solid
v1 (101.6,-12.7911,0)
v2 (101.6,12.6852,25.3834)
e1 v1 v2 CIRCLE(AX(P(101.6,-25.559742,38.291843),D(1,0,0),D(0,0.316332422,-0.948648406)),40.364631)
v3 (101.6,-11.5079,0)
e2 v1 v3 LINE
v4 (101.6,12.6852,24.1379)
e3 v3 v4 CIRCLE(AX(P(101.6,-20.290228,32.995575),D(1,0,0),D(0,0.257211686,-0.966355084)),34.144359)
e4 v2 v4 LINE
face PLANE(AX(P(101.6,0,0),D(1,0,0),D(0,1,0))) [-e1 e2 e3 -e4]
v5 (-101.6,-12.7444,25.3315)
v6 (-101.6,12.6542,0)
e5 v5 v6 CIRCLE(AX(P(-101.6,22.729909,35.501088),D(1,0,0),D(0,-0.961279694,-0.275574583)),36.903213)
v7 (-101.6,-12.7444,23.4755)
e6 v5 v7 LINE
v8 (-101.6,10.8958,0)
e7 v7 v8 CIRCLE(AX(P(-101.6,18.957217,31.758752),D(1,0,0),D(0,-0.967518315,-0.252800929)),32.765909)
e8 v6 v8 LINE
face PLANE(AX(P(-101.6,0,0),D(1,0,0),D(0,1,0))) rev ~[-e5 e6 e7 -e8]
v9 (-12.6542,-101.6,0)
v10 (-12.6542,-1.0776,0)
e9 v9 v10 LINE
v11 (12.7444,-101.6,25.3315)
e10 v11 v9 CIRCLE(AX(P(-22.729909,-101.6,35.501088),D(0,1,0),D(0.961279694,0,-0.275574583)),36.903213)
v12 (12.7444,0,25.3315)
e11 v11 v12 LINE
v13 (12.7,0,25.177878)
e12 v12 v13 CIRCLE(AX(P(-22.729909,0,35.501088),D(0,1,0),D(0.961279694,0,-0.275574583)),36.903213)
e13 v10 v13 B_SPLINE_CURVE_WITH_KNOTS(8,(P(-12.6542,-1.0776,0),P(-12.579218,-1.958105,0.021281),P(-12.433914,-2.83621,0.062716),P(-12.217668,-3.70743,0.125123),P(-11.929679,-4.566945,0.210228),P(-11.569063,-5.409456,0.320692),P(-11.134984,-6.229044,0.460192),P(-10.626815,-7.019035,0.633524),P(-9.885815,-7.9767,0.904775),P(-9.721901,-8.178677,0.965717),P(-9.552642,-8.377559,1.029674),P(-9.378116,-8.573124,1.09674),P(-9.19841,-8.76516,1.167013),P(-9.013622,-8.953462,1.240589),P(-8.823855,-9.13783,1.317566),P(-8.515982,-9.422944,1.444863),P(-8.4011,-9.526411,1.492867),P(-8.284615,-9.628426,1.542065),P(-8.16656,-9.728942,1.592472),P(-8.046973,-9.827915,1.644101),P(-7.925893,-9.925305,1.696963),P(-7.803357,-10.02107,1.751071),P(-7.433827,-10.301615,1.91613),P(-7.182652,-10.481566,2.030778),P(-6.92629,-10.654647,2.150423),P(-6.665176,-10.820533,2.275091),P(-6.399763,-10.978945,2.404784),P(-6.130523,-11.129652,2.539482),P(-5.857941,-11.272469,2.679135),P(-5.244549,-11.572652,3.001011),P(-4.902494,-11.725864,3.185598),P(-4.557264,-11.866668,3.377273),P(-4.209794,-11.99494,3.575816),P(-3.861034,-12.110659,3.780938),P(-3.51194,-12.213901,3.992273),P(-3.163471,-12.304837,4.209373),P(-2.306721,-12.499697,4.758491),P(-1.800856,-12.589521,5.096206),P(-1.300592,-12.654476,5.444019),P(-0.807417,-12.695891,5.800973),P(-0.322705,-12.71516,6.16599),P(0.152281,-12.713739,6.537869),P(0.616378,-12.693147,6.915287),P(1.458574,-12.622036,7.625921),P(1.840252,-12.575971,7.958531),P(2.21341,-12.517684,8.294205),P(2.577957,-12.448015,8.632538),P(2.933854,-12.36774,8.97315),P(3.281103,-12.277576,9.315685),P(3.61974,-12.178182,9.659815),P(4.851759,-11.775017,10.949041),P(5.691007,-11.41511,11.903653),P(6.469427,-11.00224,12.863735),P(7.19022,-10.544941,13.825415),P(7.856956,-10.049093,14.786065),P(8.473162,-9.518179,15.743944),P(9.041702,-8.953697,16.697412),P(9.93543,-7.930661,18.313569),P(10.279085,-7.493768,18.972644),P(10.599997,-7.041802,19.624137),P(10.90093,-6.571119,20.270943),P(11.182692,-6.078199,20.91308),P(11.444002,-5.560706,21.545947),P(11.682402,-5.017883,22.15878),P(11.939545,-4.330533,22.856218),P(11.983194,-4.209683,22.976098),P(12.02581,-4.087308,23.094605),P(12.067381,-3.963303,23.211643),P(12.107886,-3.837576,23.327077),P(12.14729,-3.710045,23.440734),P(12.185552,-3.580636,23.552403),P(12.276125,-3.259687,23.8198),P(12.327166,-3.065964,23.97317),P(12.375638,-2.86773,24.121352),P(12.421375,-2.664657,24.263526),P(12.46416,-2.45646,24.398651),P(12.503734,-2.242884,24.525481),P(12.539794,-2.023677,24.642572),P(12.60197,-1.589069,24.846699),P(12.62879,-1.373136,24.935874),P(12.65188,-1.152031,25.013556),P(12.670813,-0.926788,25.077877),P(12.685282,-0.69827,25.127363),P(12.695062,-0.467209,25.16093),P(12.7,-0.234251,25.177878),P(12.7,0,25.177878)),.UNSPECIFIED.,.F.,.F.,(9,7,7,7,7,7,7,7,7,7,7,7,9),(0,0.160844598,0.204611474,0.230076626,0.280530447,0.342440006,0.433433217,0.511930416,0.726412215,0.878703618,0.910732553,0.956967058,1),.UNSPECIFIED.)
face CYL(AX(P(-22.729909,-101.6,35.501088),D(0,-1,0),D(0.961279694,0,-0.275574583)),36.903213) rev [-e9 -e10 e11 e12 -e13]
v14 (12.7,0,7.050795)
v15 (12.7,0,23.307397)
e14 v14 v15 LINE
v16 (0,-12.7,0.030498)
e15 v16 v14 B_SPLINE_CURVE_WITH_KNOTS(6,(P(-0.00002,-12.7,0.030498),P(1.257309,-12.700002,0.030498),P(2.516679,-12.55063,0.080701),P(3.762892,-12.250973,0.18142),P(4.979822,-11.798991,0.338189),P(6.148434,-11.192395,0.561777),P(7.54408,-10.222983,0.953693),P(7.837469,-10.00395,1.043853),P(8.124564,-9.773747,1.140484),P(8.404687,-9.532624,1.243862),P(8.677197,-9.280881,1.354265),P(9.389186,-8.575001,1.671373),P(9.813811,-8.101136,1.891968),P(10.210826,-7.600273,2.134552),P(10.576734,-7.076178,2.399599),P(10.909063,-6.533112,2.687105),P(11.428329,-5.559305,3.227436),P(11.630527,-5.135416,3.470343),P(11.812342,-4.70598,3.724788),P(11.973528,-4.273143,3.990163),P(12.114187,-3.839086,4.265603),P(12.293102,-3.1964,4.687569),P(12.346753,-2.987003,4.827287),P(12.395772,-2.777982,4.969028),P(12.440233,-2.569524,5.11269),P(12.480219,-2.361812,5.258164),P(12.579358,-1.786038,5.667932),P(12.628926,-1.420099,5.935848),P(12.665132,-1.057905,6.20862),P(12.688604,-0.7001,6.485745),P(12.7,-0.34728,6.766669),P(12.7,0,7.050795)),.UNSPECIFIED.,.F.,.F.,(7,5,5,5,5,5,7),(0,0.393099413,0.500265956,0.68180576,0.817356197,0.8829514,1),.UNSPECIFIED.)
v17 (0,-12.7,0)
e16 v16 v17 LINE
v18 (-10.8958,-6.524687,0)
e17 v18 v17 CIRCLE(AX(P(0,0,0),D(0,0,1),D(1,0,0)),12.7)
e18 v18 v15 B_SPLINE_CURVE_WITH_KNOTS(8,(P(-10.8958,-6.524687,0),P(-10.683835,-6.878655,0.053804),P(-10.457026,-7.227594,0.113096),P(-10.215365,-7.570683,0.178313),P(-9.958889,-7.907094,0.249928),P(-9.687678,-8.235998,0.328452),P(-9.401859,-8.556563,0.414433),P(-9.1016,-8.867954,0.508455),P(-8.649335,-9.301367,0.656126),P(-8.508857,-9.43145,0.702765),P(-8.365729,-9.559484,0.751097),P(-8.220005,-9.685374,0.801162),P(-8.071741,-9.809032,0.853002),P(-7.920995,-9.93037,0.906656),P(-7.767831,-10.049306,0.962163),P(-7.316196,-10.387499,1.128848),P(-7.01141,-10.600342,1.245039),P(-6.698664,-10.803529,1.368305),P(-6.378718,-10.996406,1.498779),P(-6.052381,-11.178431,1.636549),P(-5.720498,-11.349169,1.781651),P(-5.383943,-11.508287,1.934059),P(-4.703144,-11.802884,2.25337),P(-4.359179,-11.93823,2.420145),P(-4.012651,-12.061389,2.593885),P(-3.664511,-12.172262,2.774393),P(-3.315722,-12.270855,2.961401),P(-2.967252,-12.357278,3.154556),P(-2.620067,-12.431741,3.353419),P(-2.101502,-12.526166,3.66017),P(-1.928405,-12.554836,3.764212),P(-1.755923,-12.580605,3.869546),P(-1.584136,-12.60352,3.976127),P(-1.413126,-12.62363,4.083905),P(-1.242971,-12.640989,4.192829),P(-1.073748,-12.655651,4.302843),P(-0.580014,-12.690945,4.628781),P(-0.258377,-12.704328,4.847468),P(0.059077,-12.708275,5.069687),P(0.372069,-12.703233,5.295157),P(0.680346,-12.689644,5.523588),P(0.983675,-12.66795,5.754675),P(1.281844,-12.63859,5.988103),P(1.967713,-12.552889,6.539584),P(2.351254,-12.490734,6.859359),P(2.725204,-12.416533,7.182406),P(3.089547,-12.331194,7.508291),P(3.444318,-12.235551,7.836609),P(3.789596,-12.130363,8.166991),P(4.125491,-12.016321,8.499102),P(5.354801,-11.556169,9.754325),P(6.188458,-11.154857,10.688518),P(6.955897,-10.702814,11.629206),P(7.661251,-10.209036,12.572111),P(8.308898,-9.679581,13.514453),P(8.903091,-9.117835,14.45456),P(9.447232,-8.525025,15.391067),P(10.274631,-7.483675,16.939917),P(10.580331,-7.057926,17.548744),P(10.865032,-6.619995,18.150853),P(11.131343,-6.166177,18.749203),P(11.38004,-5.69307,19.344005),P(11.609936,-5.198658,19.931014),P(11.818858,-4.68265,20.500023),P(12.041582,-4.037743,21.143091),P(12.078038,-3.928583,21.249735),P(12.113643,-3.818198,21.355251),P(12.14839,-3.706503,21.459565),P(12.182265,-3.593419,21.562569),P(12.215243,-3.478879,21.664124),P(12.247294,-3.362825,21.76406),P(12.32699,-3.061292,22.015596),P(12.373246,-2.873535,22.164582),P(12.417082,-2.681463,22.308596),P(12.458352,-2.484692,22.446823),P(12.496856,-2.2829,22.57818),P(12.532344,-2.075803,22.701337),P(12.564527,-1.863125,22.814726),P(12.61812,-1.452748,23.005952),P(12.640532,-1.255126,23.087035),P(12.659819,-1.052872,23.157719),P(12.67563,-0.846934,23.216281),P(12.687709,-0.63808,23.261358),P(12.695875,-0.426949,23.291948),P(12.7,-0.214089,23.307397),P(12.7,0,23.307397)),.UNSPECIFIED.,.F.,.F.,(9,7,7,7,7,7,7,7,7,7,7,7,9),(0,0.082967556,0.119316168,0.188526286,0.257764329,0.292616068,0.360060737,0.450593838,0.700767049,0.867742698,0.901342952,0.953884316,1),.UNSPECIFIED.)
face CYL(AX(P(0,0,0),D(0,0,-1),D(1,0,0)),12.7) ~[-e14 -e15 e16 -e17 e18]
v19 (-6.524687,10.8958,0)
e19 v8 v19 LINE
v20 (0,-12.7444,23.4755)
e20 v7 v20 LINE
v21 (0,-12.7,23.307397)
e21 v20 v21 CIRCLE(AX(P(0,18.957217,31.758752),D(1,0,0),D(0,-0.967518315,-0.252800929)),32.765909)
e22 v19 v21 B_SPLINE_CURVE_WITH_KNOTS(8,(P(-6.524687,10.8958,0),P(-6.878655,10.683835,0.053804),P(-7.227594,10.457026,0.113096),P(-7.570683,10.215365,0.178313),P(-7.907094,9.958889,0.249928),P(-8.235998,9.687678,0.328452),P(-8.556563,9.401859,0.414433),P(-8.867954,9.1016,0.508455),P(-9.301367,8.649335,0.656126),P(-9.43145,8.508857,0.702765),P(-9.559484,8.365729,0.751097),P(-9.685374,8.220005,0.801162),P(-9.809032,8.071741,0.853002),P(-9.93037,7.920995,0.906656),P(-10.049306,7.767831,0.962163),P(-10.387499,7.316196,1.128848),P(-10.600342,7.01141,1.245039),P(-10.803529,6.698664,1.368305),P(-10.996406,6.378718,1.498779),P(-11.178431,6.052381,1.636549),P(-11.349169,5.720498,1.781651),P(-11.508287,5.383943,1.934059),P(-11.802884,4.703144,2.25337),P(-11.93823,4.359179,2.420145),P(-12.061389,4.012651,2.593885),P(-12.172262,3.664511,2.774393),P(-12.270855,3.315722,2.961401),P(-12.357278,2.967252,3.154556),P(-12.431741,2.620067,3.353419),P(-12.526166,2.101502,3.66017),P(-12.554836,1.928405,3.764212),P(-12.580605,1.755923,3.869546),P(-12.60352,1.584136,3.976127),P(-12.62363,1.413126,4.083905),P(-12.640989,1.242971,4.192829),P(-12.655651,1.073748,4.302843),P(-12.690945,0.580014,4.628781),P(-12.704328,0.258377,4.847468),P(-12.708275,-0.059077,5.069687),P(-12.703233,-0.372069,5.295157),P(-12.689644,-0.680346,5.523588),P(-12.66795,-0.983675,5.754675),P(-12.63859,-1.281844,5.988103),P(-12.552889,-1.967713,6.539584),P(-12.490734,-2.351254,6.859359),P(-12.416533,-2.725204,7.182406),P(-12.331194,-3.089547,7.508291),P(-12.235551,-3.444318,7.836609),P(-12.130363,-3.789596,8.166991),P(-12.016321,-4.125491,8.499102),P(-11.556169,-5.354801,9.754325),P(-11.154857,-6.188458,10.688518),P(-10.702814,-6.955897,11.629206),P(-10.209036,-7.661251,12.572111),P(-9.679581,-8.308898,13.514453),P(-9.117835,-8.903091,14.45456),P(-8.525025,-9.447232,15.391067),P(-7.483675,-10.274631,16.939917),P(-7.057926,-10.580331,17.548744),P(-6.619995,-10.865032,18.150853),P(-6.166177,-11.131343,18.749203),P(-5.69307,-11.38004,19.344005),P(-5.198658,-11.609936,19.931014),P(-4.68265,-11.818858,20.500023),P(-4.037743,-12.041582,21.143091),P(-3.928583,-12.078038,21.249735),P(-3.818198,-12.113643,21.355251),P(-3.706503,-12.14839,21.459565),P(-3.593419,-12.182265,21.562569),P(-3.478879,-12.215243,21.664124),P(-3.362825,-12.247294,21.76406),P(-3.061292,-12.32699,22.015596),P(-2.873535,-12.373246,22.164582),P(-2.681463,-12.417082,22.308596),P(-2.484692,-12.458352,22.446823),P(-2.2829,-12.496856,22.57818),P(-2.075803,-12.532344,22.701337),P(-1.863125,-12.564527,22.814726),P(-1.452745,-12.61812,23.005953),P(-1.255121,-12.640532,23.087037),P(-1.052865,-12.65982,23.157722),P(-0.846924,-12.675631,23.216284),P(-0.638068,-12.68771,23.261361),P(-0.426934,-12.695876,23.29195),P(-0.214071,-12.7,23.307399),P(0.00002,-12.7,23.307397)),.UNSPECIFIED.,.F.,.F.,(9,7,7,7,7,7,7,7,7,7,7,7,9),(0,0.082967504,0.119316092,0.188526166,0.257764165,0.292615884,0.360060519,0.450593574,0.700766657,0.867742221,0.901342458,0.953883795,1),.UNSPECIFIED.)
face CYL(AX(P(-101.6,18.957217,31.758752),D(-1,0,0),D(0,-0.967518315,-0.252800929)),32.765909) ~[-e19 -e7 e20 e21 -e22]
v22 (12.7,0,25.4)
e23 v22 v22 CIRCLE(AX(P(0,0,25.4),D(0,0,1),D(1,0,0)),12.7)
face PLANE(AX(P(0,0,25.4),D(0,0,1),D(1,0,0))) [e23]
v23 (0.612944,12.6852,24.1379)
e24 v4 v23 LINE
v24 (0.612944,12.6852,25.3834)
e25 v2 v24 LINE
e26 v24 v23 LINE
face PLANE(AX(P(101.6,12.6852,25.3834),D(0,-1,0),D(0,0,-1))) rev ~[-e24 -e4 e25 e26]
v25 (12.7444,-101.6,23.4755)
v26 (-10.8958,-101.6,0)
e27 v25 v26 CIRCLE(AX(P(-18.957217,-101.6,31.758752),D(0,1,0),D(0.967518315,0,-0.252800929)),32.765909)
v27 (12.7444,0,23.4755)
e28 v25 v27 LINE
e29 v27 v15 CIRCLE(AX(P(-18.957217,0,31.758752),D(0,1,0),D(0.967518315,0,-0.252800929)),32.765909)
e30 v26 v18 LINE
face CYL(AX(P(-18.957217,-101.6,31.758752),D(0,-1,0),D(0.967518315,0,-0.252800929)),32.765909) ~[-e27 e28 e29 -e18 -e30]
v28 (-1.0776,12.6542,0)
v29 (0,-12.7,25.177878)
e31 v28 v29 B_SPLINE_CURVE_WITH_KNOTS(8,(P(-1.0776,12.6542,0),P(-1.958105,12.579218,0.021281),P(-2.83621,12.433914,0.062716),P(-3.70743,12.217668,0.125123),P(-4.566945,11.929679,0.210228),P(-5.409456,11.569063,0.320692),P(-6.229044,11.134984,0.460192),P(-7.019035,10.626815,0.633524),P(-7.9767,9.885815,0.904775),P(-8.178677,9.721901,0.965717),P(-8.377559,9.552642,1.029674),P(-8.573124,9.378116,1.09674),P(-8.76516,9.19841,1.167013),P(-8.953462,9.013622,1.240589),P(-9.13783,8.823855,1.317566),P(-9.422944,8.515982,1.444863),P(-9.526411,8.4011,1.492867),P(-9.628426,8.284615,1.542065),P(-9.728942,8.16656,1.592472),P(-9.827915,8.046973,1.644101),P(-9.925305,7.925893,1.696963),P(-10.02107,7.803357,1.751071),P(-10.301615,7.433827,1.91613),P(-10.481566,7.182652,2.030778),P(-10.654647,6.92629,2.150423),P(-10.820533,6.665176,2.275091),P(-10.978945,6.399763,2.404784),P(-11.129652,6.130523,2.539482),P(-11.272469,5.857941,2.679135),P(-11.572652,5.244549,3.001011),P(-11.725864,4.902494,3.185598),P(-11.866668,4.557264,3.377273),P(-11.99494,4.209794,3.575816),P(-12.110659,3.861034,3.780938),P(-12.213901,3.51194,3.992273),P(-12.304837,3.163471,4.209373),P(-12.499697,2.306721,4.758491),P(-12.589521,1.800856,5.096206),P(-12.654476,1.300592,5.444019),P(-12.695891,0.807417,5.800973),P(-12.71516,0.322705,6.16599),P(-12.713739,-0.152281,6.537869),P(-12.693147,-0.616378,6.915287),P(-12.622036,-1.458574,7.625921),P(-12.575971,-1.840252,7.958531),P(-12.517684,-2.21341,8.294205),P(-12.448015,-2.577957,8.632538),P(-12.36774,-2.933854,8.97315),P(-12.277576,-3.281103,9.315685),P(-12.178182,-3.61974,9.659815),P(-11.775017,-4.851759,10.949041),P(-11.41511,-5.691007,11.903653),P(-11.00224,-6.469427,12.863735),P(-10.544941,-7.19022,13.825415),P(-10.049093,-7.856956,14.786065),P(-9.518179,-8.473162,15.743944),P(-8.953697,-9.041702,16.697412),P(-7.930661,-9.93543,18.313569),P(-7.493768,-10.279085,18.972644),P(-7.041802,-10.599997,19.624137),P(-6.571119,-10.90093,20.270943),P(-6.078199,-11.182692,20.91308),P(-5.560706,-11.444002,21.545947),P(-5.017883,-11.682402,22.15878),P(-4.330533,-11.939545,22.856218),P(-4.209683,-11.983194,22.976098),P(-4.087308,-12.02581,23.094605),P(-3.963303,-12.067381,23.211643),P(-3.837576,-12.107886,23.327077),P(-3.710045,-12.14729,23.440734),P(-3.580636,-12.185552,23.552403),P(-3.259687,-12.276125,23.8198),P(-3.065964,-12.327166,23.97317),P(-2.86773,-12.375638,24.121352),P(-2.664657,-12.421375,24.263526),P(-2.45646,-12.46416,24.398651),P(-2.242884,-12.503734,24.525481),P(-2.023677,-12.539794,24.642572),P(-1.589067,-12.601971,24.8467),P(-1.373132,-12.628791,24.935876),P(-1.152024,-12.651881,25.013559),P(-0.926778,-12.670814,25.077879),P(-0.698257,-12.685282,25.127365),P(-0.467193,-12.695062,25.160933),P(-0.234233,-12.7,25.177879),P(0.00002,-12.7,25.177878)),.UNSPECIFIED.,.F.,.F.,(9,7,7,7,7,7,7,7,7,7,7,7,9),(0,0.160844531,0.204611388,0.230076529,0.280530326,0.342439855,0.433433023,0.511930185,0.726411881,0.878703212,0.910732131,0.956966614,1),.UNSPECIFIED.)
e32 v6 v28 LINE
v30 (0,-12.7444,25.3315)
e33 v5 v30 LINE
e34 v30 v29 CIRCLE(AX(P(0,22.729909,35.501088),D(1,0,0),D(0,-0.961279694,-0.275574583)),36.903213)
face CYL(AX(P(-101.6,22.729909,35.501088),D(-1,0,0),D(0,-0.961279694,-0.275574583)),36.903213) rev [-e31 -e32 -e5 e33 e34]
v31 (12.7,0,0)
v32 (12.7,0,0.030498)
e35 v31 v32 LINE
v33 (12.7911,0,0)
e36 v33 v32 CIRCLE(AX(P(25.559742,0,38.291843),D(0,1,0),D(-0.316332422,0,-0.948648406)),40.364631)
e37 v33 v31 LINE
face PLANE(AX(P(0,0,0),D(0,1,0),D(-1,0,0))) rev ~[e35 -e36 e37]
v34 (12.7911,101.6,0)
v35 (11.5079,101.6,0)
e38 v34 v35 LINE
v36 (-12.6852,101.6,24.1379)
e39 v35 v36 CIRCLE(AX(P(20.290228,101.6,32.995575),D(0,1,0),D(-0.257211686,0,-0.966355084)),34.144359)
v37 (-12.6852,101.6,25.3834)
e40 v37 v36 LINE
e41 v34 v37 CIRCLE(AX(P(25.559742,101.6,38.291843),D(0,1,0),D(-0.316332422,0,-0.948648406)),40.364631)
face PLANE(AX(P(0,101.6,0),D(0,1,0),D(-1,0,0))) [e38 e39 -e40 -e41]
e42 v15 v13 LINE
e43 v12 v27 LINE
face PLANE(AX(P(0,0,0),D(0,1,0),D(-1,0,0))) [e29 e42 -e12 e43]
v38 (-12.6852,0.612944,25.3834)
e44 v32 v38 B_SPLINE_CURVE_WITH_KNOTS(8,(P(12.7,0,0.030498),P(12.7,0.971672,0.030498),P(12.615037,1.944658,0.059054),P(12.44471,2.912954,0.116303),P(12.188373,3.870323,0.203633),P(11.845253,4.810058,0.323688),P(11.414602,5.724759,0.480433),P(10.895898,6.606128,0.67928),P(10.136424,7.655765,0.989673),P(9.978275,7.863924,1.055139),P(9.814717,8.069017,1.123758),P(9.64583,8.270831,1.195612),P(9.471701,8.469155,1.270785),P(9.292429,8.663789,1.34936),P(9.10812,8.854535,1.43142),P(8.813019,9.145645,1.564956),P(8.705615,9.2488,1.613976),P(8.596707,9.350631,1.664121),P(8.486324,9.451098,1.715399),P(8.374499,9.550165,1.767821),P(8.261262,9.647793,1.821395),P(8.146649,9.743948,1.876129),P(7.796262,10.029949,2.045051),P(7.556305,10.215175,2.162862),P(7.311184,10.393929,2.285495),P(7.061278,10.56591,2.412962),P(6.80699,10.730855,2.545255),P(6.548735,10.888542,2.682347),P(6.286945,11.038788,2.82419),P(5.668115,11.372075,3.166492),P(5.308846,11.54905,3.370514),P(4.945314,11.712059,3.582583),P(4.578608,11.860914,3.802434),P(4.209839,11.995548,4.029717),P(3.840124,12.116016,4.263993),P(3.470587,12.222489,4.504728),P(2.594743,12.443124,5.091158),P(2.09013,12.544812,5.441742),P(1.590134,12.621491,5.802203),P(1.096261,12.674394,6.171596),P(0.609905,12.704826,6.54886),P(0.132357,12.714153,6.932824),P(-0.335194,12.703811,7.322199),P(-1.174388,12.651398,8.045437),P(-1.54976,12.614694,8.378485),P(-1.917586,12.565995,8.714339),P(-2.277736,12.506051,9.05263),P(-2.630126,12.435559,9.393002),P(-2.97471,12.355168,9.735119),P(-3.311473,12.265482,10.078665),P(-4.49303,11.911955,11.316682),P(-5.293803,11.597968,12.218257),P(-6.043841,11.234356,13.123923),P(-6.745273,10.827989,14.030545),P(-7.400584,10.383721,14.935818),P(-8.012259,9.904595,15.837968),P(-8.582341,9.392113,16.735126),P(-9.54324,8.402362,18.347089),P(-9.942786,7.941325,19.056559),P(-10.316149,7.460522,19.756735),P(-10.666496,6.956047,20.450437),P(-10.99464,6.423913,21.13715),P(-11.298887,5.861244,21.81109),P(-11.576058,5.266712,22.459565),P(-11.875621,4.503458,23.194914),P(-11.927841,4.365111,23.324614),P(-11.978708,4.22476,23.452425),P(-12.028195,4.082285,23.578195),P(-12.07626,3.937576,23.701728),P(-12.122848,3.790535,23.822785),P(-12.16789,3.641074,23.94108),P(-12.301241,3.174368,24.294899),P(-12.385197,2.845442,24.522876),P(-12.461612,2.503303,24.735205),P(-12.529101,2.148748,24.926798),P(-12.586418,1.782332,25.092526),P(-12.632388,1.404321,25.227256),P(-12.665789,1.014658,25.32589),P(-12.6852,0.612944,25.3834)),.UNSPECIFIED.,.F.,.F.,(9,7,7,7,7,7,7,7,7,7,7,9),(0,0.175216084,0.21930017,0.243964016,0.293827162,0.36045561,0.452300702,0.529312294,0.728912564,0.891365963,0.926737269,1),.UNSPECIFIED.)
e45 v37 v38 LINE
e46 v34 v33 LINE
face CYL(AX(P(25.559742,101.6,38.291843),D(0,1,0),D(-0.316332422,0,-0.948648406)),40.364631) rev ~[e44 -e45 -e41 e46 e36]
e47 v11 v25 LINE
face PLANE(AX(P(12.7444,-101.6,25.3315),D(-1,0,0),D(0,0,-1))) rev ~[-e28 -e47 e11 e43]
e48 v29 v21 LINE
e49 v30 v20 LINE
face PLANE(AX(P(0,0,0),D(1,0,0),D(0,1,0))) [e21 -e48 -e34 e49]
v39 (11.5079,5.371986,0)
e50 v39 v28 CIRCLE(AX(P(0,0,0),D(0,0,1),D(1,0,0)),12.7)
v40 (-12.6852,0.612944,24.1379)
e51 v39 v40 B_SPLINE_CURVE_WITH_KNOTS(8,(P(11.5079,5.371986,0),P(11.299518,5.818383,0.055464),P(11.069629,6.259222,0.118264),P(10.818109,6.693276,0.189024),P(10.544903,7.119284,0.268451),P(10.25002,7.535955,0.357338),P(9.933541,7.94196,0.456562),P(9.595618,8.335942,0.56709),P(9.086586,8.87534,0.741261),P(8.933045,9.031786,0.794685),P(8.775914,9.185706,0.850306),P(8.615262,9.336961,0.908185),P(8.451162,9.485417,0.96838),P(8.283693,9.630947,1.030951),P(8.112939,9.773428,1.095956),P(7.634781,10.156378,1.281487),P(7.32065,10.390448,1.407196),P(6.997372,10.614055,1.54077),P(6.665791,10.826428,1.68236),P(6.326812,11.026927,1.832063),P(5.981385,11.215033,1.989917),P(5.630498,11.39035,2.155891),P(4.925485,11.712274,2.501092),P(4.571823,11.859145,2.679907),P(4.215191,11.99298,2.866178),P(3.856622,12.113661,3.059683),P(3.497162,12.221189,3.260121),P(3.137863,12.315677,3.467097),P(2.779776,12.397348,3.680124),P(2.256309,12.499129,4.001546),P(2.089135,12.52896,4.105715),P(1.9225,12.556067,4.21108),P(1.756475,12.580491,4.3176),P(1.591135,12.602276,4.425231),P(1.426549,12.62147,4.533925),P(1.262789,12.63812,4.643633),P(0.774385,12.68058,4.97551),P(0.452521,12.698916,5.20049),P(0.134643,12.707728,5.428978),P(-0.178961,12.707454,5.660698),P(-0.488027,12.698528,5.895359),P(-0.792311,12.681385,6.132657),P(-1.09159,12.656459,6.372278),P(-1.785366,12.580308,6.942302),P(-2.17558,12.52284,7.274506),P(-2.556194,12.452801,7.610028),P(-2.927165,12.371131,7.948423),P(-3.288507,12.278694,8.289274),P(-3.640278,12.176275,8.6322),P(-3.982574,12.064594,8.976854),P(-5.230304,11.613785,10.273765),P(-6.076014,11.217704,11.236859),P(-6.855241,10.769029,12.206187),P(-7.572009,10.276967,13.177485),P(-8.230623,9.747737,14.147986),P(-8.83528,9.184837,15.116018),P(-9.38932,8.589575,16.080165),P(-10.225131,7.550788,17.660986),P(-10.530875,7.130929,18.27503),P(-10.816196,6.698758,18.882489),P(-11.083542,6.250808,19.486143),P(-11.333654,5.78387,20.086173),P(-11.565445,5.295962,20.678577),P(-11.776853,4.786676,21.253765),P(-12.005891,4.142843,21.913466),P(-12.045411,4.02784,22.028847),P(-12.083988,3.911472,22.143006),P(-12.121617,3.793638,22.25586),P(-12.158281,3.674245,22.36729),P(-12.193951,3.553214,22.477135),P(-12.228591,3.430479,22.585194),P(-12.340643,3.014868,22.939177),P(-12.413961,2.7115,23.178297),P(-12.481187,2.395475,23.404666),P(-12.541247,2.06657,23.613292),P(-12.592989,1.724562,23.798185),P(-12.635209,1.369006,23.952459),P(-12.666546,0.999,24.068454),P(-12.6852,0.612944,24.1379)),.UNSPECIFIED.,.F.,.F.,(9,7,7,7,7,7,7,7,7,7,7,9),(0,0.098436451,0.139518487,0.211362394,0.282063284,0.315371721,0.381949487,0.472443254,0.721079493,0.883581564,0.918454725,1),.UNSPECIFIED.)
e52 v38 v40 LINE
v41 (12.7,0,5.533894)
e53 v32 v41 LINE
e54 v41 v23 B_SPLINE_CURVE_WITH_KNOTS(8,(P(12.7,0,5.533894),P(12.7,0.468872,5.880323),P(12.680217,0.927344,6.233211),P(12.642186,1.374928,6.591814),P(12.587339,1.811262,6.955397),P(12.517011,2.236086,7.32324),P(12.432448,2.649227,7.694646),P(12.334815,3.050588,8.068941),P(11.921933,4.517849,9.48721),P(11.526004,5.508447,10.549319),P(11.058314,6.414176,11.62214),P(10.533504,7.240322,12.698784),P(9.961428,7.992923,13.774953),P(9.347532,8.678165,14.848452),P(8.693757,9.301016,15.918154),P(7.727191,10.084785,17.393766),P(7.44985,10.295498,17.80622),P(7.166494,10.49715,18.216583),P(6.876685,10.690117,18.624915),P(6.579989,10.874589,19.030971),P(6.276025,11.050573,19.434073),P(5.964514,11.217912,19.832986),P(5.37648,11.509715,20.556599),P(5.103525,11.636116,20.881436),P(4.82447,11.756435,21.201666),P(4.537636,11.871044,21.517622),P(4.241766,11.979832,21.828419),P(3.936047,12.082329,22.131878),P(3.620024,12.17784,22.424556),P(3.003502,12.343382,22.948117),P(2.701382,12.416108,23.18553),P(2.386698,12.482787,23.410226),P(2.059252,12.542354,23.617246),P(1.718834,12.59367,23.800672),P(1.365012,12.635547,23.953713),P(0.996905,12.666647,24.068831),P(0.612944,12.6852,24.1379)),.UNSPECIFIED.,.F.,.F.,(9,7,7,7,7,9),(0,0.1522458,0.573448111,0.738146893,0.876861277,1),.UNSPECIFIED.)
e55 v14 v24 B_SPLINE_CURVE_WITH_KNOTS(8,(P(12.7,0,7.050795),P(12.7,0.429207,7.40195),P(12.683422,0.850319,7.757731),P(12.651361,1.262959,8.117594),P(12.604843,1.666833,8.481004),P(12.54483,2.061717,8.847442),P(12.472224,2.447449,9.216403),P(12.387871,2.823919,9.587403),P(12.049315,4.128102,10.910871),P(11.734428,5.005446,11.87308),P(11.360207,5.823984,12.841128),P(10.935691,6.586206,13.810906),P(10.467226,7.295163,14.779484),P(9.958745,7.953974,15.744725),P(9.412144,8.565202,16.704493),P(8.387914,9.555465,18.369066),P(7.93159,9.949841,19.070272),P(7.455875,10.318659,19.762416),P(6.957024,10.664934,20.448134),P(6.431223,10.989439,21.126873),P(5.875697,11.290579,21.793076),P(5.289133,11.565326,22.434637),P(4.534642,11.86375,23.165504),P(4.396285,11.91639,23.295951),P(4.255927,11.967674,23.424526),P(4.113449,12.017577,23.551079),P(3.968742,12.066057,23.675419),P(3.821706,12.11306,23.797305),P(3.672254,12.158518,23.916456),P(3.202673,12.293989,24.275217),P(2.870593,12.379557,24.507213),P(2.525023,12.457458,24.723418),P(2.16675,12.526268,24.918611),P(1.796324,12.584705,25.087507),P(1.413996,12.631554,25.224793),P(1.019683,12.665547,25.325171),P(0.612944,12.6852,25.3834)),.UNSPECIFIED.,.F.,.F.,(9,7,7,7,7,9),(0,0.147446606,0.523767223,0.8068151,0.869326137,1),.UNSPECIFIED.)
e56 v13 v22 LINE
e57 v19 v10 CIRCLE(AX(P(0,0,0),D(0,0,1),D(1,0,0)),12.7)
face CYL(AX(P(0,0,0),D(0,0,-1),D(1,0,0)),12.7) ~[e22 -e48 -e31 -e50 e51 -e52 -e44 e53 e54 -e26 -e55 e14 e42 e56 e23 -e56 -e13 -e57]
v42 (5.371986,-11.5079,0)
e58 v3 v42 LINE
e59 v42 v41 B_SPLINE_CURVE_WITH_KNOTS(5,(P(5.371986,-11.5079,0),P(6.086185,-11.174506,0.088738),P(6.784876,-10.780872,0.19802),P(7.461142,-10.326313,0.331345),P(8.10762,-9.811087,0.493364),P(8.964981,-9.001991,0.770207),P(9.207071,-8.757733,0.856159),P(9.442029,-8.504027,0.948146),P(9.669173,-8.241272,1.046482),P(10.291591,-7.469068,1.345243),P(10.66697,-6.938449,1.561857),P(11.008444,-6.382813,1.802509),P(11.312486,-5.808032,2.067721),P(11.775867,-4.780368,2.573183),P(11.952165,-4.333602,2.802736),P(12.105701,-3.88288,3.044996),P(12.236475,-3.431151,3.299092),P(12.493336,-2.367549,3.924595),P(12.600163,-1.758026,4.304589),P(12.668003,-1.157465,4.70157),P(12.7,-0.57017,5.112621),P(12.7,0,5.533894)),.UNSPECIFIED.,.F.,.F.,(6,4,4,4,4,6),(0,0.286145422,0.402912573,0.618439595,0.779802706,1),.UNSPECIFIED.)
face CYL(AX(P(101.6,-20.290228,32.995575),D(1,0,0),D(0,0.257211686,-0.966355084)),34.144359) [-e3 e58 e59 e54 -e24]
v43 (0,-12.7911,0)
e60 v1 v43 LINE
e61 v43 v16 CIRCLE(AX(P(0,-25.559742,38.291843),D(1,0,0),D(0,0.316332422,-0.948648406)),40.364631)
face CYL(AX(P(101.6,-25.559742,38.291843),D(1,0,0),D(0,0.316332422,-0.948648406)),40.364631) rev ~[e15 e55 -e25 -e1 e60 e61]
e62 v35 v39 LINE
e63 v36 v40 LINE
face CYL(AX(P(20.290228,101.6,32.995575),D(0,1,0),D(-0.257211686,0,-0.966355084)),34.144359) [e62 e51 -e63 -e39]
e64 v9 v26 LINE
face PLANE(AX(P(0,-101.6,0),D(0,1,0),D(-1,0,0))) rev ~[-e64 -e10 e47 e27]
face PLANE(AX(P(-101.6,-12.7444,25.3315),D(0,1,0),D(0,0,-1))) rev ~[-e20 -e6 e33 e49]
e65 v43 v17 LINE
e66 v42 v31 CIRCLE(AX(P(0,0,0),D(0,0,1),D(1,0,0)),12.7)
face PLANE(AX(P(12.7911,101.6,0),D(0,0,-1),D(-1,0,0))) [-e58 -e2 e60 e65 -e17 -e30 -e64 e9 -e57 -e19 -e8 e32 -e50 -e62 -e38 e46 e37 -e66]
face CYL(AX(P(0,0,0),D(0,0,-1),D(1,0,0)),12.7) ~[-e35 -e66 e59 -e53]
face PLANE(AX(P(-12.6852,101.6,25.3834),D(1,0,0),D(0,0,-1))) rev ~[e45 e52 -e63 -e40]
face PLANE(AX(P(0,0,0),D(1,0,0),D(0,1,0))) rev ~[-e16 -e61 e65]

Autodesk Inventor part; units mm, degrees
sketch "Sketch1" plane through (0, 0, 0) normal (0, 0, 1) x (1, 0, 0)
  circle A0 centre (0, 0) radius 12.7
  dimension "d0" = 25.4
extrude "Extrusion1" add sketch "Sketch1" along normal blind 25.4
ref_plane "Work Plane1" through (101.6, 0, 0) normal (1, 0, 0) x (0, 1, 0)
sketch "Sketch2" plane through (101.6, 0, 0) normal (1, 0, 0) x (0, 1, 0)
  arc A0 (-11.5079, 0) -> (12.6852, 24.1379) centre (-20.2903, 32.9957) ccw
  arc A1 (-12.7911, 0) -> (12.6852, 25.3834) centre (-25.5599, 38.2921) ccw
  line L0 (12.6852, 25.3834) -> (12.6852, 24.1379)
  line L1 (-12.7911, 0) -> (-11.5079, 0)
  point P0 (0, 0)
extrude "Extrusion2" add sketch "Sketch2" against normal blind 101.6
ref_plane "Work Plane2" through (0, -101.6, 0) normal (0, 1, 0) x (-1, 0, 0)
sketch "Sketch3" plane through (0, -101.6, 0) normal (0, 1, 0) x (-1, 0, 0)
  arc A0 (-12.7444, 23.4755) -> (10.8958, 0) centre (18.9573, 31.7588) ccw
  arc A1 (-12.7444, 25.3315) -> (12.6542, 0) centre (22.7301, 35.5012) ccw
  line L0 (-12.7444, 25.3315) -> (-12.7444, 23.4755)
  line L1 (12.6542, 0) -> (10.8958, 0)
  point P0 (0, 0)
  dimension "d7" = 32.766
extrude "Extrusion3" add sketch "Sketch3" along normal blind 101.6
ref_plane "Work Plane3" through (-101.6, 0, 0) normal (1, 0, 0) x (0, 1, 0)
sketch "Sketch4" plane through (-101.6, 0, 0) normal (1, 0, 0) x (0, 1, 0)
  arc A0 (-12.7444, 23.4755) -> (10.8958, 0) centre (18.9573, 31.7588) ccw
  arc A1 (-12.7444, 25.3315) -> (12.6542, 0) centre (22.7301, 35.5012) ccw
  line L0 (-12.7444, 25.3315) -> (-12.7444, 23.4755)
  line L1 (12.6542, 0) -> (10.8958, 0)
  point P0 (0, 0)
  point P1 (0, 0)
  dimension "d11" = 32.766
extrude "Extrusion4" add sketch "Sketch4" along normal blind 101.6
ref_plane "Work Plane4" through (0, 101.6, 0) normal (0, 1, 0) x (-1, 0, 0)
sketch "Sketch5" plane through (0, 101.6, 0) normal (0, 1, 0) x (-1, 0, 0)
  arc A0 (-11.5079, 0) -> (12.6852, 24.1379) centre (-20.2903, 32.9957) ccw
  arc A1 (-12.7911, 0) -> (12.6852, 25.3834) centre (-25.5599, 38.2921) ccw
  line L0 (12.6852, 25.3834) -> (12.6852, 24.1379)
  line L1 (-12.7911, 0) -> (-11.5079, 0)
  point P0 (0, 0)
  point P1 (0, 0)
extrude "Extrusion5" add sketch "Sketch5" against normal blind 101.6
properties part number "Fan"
